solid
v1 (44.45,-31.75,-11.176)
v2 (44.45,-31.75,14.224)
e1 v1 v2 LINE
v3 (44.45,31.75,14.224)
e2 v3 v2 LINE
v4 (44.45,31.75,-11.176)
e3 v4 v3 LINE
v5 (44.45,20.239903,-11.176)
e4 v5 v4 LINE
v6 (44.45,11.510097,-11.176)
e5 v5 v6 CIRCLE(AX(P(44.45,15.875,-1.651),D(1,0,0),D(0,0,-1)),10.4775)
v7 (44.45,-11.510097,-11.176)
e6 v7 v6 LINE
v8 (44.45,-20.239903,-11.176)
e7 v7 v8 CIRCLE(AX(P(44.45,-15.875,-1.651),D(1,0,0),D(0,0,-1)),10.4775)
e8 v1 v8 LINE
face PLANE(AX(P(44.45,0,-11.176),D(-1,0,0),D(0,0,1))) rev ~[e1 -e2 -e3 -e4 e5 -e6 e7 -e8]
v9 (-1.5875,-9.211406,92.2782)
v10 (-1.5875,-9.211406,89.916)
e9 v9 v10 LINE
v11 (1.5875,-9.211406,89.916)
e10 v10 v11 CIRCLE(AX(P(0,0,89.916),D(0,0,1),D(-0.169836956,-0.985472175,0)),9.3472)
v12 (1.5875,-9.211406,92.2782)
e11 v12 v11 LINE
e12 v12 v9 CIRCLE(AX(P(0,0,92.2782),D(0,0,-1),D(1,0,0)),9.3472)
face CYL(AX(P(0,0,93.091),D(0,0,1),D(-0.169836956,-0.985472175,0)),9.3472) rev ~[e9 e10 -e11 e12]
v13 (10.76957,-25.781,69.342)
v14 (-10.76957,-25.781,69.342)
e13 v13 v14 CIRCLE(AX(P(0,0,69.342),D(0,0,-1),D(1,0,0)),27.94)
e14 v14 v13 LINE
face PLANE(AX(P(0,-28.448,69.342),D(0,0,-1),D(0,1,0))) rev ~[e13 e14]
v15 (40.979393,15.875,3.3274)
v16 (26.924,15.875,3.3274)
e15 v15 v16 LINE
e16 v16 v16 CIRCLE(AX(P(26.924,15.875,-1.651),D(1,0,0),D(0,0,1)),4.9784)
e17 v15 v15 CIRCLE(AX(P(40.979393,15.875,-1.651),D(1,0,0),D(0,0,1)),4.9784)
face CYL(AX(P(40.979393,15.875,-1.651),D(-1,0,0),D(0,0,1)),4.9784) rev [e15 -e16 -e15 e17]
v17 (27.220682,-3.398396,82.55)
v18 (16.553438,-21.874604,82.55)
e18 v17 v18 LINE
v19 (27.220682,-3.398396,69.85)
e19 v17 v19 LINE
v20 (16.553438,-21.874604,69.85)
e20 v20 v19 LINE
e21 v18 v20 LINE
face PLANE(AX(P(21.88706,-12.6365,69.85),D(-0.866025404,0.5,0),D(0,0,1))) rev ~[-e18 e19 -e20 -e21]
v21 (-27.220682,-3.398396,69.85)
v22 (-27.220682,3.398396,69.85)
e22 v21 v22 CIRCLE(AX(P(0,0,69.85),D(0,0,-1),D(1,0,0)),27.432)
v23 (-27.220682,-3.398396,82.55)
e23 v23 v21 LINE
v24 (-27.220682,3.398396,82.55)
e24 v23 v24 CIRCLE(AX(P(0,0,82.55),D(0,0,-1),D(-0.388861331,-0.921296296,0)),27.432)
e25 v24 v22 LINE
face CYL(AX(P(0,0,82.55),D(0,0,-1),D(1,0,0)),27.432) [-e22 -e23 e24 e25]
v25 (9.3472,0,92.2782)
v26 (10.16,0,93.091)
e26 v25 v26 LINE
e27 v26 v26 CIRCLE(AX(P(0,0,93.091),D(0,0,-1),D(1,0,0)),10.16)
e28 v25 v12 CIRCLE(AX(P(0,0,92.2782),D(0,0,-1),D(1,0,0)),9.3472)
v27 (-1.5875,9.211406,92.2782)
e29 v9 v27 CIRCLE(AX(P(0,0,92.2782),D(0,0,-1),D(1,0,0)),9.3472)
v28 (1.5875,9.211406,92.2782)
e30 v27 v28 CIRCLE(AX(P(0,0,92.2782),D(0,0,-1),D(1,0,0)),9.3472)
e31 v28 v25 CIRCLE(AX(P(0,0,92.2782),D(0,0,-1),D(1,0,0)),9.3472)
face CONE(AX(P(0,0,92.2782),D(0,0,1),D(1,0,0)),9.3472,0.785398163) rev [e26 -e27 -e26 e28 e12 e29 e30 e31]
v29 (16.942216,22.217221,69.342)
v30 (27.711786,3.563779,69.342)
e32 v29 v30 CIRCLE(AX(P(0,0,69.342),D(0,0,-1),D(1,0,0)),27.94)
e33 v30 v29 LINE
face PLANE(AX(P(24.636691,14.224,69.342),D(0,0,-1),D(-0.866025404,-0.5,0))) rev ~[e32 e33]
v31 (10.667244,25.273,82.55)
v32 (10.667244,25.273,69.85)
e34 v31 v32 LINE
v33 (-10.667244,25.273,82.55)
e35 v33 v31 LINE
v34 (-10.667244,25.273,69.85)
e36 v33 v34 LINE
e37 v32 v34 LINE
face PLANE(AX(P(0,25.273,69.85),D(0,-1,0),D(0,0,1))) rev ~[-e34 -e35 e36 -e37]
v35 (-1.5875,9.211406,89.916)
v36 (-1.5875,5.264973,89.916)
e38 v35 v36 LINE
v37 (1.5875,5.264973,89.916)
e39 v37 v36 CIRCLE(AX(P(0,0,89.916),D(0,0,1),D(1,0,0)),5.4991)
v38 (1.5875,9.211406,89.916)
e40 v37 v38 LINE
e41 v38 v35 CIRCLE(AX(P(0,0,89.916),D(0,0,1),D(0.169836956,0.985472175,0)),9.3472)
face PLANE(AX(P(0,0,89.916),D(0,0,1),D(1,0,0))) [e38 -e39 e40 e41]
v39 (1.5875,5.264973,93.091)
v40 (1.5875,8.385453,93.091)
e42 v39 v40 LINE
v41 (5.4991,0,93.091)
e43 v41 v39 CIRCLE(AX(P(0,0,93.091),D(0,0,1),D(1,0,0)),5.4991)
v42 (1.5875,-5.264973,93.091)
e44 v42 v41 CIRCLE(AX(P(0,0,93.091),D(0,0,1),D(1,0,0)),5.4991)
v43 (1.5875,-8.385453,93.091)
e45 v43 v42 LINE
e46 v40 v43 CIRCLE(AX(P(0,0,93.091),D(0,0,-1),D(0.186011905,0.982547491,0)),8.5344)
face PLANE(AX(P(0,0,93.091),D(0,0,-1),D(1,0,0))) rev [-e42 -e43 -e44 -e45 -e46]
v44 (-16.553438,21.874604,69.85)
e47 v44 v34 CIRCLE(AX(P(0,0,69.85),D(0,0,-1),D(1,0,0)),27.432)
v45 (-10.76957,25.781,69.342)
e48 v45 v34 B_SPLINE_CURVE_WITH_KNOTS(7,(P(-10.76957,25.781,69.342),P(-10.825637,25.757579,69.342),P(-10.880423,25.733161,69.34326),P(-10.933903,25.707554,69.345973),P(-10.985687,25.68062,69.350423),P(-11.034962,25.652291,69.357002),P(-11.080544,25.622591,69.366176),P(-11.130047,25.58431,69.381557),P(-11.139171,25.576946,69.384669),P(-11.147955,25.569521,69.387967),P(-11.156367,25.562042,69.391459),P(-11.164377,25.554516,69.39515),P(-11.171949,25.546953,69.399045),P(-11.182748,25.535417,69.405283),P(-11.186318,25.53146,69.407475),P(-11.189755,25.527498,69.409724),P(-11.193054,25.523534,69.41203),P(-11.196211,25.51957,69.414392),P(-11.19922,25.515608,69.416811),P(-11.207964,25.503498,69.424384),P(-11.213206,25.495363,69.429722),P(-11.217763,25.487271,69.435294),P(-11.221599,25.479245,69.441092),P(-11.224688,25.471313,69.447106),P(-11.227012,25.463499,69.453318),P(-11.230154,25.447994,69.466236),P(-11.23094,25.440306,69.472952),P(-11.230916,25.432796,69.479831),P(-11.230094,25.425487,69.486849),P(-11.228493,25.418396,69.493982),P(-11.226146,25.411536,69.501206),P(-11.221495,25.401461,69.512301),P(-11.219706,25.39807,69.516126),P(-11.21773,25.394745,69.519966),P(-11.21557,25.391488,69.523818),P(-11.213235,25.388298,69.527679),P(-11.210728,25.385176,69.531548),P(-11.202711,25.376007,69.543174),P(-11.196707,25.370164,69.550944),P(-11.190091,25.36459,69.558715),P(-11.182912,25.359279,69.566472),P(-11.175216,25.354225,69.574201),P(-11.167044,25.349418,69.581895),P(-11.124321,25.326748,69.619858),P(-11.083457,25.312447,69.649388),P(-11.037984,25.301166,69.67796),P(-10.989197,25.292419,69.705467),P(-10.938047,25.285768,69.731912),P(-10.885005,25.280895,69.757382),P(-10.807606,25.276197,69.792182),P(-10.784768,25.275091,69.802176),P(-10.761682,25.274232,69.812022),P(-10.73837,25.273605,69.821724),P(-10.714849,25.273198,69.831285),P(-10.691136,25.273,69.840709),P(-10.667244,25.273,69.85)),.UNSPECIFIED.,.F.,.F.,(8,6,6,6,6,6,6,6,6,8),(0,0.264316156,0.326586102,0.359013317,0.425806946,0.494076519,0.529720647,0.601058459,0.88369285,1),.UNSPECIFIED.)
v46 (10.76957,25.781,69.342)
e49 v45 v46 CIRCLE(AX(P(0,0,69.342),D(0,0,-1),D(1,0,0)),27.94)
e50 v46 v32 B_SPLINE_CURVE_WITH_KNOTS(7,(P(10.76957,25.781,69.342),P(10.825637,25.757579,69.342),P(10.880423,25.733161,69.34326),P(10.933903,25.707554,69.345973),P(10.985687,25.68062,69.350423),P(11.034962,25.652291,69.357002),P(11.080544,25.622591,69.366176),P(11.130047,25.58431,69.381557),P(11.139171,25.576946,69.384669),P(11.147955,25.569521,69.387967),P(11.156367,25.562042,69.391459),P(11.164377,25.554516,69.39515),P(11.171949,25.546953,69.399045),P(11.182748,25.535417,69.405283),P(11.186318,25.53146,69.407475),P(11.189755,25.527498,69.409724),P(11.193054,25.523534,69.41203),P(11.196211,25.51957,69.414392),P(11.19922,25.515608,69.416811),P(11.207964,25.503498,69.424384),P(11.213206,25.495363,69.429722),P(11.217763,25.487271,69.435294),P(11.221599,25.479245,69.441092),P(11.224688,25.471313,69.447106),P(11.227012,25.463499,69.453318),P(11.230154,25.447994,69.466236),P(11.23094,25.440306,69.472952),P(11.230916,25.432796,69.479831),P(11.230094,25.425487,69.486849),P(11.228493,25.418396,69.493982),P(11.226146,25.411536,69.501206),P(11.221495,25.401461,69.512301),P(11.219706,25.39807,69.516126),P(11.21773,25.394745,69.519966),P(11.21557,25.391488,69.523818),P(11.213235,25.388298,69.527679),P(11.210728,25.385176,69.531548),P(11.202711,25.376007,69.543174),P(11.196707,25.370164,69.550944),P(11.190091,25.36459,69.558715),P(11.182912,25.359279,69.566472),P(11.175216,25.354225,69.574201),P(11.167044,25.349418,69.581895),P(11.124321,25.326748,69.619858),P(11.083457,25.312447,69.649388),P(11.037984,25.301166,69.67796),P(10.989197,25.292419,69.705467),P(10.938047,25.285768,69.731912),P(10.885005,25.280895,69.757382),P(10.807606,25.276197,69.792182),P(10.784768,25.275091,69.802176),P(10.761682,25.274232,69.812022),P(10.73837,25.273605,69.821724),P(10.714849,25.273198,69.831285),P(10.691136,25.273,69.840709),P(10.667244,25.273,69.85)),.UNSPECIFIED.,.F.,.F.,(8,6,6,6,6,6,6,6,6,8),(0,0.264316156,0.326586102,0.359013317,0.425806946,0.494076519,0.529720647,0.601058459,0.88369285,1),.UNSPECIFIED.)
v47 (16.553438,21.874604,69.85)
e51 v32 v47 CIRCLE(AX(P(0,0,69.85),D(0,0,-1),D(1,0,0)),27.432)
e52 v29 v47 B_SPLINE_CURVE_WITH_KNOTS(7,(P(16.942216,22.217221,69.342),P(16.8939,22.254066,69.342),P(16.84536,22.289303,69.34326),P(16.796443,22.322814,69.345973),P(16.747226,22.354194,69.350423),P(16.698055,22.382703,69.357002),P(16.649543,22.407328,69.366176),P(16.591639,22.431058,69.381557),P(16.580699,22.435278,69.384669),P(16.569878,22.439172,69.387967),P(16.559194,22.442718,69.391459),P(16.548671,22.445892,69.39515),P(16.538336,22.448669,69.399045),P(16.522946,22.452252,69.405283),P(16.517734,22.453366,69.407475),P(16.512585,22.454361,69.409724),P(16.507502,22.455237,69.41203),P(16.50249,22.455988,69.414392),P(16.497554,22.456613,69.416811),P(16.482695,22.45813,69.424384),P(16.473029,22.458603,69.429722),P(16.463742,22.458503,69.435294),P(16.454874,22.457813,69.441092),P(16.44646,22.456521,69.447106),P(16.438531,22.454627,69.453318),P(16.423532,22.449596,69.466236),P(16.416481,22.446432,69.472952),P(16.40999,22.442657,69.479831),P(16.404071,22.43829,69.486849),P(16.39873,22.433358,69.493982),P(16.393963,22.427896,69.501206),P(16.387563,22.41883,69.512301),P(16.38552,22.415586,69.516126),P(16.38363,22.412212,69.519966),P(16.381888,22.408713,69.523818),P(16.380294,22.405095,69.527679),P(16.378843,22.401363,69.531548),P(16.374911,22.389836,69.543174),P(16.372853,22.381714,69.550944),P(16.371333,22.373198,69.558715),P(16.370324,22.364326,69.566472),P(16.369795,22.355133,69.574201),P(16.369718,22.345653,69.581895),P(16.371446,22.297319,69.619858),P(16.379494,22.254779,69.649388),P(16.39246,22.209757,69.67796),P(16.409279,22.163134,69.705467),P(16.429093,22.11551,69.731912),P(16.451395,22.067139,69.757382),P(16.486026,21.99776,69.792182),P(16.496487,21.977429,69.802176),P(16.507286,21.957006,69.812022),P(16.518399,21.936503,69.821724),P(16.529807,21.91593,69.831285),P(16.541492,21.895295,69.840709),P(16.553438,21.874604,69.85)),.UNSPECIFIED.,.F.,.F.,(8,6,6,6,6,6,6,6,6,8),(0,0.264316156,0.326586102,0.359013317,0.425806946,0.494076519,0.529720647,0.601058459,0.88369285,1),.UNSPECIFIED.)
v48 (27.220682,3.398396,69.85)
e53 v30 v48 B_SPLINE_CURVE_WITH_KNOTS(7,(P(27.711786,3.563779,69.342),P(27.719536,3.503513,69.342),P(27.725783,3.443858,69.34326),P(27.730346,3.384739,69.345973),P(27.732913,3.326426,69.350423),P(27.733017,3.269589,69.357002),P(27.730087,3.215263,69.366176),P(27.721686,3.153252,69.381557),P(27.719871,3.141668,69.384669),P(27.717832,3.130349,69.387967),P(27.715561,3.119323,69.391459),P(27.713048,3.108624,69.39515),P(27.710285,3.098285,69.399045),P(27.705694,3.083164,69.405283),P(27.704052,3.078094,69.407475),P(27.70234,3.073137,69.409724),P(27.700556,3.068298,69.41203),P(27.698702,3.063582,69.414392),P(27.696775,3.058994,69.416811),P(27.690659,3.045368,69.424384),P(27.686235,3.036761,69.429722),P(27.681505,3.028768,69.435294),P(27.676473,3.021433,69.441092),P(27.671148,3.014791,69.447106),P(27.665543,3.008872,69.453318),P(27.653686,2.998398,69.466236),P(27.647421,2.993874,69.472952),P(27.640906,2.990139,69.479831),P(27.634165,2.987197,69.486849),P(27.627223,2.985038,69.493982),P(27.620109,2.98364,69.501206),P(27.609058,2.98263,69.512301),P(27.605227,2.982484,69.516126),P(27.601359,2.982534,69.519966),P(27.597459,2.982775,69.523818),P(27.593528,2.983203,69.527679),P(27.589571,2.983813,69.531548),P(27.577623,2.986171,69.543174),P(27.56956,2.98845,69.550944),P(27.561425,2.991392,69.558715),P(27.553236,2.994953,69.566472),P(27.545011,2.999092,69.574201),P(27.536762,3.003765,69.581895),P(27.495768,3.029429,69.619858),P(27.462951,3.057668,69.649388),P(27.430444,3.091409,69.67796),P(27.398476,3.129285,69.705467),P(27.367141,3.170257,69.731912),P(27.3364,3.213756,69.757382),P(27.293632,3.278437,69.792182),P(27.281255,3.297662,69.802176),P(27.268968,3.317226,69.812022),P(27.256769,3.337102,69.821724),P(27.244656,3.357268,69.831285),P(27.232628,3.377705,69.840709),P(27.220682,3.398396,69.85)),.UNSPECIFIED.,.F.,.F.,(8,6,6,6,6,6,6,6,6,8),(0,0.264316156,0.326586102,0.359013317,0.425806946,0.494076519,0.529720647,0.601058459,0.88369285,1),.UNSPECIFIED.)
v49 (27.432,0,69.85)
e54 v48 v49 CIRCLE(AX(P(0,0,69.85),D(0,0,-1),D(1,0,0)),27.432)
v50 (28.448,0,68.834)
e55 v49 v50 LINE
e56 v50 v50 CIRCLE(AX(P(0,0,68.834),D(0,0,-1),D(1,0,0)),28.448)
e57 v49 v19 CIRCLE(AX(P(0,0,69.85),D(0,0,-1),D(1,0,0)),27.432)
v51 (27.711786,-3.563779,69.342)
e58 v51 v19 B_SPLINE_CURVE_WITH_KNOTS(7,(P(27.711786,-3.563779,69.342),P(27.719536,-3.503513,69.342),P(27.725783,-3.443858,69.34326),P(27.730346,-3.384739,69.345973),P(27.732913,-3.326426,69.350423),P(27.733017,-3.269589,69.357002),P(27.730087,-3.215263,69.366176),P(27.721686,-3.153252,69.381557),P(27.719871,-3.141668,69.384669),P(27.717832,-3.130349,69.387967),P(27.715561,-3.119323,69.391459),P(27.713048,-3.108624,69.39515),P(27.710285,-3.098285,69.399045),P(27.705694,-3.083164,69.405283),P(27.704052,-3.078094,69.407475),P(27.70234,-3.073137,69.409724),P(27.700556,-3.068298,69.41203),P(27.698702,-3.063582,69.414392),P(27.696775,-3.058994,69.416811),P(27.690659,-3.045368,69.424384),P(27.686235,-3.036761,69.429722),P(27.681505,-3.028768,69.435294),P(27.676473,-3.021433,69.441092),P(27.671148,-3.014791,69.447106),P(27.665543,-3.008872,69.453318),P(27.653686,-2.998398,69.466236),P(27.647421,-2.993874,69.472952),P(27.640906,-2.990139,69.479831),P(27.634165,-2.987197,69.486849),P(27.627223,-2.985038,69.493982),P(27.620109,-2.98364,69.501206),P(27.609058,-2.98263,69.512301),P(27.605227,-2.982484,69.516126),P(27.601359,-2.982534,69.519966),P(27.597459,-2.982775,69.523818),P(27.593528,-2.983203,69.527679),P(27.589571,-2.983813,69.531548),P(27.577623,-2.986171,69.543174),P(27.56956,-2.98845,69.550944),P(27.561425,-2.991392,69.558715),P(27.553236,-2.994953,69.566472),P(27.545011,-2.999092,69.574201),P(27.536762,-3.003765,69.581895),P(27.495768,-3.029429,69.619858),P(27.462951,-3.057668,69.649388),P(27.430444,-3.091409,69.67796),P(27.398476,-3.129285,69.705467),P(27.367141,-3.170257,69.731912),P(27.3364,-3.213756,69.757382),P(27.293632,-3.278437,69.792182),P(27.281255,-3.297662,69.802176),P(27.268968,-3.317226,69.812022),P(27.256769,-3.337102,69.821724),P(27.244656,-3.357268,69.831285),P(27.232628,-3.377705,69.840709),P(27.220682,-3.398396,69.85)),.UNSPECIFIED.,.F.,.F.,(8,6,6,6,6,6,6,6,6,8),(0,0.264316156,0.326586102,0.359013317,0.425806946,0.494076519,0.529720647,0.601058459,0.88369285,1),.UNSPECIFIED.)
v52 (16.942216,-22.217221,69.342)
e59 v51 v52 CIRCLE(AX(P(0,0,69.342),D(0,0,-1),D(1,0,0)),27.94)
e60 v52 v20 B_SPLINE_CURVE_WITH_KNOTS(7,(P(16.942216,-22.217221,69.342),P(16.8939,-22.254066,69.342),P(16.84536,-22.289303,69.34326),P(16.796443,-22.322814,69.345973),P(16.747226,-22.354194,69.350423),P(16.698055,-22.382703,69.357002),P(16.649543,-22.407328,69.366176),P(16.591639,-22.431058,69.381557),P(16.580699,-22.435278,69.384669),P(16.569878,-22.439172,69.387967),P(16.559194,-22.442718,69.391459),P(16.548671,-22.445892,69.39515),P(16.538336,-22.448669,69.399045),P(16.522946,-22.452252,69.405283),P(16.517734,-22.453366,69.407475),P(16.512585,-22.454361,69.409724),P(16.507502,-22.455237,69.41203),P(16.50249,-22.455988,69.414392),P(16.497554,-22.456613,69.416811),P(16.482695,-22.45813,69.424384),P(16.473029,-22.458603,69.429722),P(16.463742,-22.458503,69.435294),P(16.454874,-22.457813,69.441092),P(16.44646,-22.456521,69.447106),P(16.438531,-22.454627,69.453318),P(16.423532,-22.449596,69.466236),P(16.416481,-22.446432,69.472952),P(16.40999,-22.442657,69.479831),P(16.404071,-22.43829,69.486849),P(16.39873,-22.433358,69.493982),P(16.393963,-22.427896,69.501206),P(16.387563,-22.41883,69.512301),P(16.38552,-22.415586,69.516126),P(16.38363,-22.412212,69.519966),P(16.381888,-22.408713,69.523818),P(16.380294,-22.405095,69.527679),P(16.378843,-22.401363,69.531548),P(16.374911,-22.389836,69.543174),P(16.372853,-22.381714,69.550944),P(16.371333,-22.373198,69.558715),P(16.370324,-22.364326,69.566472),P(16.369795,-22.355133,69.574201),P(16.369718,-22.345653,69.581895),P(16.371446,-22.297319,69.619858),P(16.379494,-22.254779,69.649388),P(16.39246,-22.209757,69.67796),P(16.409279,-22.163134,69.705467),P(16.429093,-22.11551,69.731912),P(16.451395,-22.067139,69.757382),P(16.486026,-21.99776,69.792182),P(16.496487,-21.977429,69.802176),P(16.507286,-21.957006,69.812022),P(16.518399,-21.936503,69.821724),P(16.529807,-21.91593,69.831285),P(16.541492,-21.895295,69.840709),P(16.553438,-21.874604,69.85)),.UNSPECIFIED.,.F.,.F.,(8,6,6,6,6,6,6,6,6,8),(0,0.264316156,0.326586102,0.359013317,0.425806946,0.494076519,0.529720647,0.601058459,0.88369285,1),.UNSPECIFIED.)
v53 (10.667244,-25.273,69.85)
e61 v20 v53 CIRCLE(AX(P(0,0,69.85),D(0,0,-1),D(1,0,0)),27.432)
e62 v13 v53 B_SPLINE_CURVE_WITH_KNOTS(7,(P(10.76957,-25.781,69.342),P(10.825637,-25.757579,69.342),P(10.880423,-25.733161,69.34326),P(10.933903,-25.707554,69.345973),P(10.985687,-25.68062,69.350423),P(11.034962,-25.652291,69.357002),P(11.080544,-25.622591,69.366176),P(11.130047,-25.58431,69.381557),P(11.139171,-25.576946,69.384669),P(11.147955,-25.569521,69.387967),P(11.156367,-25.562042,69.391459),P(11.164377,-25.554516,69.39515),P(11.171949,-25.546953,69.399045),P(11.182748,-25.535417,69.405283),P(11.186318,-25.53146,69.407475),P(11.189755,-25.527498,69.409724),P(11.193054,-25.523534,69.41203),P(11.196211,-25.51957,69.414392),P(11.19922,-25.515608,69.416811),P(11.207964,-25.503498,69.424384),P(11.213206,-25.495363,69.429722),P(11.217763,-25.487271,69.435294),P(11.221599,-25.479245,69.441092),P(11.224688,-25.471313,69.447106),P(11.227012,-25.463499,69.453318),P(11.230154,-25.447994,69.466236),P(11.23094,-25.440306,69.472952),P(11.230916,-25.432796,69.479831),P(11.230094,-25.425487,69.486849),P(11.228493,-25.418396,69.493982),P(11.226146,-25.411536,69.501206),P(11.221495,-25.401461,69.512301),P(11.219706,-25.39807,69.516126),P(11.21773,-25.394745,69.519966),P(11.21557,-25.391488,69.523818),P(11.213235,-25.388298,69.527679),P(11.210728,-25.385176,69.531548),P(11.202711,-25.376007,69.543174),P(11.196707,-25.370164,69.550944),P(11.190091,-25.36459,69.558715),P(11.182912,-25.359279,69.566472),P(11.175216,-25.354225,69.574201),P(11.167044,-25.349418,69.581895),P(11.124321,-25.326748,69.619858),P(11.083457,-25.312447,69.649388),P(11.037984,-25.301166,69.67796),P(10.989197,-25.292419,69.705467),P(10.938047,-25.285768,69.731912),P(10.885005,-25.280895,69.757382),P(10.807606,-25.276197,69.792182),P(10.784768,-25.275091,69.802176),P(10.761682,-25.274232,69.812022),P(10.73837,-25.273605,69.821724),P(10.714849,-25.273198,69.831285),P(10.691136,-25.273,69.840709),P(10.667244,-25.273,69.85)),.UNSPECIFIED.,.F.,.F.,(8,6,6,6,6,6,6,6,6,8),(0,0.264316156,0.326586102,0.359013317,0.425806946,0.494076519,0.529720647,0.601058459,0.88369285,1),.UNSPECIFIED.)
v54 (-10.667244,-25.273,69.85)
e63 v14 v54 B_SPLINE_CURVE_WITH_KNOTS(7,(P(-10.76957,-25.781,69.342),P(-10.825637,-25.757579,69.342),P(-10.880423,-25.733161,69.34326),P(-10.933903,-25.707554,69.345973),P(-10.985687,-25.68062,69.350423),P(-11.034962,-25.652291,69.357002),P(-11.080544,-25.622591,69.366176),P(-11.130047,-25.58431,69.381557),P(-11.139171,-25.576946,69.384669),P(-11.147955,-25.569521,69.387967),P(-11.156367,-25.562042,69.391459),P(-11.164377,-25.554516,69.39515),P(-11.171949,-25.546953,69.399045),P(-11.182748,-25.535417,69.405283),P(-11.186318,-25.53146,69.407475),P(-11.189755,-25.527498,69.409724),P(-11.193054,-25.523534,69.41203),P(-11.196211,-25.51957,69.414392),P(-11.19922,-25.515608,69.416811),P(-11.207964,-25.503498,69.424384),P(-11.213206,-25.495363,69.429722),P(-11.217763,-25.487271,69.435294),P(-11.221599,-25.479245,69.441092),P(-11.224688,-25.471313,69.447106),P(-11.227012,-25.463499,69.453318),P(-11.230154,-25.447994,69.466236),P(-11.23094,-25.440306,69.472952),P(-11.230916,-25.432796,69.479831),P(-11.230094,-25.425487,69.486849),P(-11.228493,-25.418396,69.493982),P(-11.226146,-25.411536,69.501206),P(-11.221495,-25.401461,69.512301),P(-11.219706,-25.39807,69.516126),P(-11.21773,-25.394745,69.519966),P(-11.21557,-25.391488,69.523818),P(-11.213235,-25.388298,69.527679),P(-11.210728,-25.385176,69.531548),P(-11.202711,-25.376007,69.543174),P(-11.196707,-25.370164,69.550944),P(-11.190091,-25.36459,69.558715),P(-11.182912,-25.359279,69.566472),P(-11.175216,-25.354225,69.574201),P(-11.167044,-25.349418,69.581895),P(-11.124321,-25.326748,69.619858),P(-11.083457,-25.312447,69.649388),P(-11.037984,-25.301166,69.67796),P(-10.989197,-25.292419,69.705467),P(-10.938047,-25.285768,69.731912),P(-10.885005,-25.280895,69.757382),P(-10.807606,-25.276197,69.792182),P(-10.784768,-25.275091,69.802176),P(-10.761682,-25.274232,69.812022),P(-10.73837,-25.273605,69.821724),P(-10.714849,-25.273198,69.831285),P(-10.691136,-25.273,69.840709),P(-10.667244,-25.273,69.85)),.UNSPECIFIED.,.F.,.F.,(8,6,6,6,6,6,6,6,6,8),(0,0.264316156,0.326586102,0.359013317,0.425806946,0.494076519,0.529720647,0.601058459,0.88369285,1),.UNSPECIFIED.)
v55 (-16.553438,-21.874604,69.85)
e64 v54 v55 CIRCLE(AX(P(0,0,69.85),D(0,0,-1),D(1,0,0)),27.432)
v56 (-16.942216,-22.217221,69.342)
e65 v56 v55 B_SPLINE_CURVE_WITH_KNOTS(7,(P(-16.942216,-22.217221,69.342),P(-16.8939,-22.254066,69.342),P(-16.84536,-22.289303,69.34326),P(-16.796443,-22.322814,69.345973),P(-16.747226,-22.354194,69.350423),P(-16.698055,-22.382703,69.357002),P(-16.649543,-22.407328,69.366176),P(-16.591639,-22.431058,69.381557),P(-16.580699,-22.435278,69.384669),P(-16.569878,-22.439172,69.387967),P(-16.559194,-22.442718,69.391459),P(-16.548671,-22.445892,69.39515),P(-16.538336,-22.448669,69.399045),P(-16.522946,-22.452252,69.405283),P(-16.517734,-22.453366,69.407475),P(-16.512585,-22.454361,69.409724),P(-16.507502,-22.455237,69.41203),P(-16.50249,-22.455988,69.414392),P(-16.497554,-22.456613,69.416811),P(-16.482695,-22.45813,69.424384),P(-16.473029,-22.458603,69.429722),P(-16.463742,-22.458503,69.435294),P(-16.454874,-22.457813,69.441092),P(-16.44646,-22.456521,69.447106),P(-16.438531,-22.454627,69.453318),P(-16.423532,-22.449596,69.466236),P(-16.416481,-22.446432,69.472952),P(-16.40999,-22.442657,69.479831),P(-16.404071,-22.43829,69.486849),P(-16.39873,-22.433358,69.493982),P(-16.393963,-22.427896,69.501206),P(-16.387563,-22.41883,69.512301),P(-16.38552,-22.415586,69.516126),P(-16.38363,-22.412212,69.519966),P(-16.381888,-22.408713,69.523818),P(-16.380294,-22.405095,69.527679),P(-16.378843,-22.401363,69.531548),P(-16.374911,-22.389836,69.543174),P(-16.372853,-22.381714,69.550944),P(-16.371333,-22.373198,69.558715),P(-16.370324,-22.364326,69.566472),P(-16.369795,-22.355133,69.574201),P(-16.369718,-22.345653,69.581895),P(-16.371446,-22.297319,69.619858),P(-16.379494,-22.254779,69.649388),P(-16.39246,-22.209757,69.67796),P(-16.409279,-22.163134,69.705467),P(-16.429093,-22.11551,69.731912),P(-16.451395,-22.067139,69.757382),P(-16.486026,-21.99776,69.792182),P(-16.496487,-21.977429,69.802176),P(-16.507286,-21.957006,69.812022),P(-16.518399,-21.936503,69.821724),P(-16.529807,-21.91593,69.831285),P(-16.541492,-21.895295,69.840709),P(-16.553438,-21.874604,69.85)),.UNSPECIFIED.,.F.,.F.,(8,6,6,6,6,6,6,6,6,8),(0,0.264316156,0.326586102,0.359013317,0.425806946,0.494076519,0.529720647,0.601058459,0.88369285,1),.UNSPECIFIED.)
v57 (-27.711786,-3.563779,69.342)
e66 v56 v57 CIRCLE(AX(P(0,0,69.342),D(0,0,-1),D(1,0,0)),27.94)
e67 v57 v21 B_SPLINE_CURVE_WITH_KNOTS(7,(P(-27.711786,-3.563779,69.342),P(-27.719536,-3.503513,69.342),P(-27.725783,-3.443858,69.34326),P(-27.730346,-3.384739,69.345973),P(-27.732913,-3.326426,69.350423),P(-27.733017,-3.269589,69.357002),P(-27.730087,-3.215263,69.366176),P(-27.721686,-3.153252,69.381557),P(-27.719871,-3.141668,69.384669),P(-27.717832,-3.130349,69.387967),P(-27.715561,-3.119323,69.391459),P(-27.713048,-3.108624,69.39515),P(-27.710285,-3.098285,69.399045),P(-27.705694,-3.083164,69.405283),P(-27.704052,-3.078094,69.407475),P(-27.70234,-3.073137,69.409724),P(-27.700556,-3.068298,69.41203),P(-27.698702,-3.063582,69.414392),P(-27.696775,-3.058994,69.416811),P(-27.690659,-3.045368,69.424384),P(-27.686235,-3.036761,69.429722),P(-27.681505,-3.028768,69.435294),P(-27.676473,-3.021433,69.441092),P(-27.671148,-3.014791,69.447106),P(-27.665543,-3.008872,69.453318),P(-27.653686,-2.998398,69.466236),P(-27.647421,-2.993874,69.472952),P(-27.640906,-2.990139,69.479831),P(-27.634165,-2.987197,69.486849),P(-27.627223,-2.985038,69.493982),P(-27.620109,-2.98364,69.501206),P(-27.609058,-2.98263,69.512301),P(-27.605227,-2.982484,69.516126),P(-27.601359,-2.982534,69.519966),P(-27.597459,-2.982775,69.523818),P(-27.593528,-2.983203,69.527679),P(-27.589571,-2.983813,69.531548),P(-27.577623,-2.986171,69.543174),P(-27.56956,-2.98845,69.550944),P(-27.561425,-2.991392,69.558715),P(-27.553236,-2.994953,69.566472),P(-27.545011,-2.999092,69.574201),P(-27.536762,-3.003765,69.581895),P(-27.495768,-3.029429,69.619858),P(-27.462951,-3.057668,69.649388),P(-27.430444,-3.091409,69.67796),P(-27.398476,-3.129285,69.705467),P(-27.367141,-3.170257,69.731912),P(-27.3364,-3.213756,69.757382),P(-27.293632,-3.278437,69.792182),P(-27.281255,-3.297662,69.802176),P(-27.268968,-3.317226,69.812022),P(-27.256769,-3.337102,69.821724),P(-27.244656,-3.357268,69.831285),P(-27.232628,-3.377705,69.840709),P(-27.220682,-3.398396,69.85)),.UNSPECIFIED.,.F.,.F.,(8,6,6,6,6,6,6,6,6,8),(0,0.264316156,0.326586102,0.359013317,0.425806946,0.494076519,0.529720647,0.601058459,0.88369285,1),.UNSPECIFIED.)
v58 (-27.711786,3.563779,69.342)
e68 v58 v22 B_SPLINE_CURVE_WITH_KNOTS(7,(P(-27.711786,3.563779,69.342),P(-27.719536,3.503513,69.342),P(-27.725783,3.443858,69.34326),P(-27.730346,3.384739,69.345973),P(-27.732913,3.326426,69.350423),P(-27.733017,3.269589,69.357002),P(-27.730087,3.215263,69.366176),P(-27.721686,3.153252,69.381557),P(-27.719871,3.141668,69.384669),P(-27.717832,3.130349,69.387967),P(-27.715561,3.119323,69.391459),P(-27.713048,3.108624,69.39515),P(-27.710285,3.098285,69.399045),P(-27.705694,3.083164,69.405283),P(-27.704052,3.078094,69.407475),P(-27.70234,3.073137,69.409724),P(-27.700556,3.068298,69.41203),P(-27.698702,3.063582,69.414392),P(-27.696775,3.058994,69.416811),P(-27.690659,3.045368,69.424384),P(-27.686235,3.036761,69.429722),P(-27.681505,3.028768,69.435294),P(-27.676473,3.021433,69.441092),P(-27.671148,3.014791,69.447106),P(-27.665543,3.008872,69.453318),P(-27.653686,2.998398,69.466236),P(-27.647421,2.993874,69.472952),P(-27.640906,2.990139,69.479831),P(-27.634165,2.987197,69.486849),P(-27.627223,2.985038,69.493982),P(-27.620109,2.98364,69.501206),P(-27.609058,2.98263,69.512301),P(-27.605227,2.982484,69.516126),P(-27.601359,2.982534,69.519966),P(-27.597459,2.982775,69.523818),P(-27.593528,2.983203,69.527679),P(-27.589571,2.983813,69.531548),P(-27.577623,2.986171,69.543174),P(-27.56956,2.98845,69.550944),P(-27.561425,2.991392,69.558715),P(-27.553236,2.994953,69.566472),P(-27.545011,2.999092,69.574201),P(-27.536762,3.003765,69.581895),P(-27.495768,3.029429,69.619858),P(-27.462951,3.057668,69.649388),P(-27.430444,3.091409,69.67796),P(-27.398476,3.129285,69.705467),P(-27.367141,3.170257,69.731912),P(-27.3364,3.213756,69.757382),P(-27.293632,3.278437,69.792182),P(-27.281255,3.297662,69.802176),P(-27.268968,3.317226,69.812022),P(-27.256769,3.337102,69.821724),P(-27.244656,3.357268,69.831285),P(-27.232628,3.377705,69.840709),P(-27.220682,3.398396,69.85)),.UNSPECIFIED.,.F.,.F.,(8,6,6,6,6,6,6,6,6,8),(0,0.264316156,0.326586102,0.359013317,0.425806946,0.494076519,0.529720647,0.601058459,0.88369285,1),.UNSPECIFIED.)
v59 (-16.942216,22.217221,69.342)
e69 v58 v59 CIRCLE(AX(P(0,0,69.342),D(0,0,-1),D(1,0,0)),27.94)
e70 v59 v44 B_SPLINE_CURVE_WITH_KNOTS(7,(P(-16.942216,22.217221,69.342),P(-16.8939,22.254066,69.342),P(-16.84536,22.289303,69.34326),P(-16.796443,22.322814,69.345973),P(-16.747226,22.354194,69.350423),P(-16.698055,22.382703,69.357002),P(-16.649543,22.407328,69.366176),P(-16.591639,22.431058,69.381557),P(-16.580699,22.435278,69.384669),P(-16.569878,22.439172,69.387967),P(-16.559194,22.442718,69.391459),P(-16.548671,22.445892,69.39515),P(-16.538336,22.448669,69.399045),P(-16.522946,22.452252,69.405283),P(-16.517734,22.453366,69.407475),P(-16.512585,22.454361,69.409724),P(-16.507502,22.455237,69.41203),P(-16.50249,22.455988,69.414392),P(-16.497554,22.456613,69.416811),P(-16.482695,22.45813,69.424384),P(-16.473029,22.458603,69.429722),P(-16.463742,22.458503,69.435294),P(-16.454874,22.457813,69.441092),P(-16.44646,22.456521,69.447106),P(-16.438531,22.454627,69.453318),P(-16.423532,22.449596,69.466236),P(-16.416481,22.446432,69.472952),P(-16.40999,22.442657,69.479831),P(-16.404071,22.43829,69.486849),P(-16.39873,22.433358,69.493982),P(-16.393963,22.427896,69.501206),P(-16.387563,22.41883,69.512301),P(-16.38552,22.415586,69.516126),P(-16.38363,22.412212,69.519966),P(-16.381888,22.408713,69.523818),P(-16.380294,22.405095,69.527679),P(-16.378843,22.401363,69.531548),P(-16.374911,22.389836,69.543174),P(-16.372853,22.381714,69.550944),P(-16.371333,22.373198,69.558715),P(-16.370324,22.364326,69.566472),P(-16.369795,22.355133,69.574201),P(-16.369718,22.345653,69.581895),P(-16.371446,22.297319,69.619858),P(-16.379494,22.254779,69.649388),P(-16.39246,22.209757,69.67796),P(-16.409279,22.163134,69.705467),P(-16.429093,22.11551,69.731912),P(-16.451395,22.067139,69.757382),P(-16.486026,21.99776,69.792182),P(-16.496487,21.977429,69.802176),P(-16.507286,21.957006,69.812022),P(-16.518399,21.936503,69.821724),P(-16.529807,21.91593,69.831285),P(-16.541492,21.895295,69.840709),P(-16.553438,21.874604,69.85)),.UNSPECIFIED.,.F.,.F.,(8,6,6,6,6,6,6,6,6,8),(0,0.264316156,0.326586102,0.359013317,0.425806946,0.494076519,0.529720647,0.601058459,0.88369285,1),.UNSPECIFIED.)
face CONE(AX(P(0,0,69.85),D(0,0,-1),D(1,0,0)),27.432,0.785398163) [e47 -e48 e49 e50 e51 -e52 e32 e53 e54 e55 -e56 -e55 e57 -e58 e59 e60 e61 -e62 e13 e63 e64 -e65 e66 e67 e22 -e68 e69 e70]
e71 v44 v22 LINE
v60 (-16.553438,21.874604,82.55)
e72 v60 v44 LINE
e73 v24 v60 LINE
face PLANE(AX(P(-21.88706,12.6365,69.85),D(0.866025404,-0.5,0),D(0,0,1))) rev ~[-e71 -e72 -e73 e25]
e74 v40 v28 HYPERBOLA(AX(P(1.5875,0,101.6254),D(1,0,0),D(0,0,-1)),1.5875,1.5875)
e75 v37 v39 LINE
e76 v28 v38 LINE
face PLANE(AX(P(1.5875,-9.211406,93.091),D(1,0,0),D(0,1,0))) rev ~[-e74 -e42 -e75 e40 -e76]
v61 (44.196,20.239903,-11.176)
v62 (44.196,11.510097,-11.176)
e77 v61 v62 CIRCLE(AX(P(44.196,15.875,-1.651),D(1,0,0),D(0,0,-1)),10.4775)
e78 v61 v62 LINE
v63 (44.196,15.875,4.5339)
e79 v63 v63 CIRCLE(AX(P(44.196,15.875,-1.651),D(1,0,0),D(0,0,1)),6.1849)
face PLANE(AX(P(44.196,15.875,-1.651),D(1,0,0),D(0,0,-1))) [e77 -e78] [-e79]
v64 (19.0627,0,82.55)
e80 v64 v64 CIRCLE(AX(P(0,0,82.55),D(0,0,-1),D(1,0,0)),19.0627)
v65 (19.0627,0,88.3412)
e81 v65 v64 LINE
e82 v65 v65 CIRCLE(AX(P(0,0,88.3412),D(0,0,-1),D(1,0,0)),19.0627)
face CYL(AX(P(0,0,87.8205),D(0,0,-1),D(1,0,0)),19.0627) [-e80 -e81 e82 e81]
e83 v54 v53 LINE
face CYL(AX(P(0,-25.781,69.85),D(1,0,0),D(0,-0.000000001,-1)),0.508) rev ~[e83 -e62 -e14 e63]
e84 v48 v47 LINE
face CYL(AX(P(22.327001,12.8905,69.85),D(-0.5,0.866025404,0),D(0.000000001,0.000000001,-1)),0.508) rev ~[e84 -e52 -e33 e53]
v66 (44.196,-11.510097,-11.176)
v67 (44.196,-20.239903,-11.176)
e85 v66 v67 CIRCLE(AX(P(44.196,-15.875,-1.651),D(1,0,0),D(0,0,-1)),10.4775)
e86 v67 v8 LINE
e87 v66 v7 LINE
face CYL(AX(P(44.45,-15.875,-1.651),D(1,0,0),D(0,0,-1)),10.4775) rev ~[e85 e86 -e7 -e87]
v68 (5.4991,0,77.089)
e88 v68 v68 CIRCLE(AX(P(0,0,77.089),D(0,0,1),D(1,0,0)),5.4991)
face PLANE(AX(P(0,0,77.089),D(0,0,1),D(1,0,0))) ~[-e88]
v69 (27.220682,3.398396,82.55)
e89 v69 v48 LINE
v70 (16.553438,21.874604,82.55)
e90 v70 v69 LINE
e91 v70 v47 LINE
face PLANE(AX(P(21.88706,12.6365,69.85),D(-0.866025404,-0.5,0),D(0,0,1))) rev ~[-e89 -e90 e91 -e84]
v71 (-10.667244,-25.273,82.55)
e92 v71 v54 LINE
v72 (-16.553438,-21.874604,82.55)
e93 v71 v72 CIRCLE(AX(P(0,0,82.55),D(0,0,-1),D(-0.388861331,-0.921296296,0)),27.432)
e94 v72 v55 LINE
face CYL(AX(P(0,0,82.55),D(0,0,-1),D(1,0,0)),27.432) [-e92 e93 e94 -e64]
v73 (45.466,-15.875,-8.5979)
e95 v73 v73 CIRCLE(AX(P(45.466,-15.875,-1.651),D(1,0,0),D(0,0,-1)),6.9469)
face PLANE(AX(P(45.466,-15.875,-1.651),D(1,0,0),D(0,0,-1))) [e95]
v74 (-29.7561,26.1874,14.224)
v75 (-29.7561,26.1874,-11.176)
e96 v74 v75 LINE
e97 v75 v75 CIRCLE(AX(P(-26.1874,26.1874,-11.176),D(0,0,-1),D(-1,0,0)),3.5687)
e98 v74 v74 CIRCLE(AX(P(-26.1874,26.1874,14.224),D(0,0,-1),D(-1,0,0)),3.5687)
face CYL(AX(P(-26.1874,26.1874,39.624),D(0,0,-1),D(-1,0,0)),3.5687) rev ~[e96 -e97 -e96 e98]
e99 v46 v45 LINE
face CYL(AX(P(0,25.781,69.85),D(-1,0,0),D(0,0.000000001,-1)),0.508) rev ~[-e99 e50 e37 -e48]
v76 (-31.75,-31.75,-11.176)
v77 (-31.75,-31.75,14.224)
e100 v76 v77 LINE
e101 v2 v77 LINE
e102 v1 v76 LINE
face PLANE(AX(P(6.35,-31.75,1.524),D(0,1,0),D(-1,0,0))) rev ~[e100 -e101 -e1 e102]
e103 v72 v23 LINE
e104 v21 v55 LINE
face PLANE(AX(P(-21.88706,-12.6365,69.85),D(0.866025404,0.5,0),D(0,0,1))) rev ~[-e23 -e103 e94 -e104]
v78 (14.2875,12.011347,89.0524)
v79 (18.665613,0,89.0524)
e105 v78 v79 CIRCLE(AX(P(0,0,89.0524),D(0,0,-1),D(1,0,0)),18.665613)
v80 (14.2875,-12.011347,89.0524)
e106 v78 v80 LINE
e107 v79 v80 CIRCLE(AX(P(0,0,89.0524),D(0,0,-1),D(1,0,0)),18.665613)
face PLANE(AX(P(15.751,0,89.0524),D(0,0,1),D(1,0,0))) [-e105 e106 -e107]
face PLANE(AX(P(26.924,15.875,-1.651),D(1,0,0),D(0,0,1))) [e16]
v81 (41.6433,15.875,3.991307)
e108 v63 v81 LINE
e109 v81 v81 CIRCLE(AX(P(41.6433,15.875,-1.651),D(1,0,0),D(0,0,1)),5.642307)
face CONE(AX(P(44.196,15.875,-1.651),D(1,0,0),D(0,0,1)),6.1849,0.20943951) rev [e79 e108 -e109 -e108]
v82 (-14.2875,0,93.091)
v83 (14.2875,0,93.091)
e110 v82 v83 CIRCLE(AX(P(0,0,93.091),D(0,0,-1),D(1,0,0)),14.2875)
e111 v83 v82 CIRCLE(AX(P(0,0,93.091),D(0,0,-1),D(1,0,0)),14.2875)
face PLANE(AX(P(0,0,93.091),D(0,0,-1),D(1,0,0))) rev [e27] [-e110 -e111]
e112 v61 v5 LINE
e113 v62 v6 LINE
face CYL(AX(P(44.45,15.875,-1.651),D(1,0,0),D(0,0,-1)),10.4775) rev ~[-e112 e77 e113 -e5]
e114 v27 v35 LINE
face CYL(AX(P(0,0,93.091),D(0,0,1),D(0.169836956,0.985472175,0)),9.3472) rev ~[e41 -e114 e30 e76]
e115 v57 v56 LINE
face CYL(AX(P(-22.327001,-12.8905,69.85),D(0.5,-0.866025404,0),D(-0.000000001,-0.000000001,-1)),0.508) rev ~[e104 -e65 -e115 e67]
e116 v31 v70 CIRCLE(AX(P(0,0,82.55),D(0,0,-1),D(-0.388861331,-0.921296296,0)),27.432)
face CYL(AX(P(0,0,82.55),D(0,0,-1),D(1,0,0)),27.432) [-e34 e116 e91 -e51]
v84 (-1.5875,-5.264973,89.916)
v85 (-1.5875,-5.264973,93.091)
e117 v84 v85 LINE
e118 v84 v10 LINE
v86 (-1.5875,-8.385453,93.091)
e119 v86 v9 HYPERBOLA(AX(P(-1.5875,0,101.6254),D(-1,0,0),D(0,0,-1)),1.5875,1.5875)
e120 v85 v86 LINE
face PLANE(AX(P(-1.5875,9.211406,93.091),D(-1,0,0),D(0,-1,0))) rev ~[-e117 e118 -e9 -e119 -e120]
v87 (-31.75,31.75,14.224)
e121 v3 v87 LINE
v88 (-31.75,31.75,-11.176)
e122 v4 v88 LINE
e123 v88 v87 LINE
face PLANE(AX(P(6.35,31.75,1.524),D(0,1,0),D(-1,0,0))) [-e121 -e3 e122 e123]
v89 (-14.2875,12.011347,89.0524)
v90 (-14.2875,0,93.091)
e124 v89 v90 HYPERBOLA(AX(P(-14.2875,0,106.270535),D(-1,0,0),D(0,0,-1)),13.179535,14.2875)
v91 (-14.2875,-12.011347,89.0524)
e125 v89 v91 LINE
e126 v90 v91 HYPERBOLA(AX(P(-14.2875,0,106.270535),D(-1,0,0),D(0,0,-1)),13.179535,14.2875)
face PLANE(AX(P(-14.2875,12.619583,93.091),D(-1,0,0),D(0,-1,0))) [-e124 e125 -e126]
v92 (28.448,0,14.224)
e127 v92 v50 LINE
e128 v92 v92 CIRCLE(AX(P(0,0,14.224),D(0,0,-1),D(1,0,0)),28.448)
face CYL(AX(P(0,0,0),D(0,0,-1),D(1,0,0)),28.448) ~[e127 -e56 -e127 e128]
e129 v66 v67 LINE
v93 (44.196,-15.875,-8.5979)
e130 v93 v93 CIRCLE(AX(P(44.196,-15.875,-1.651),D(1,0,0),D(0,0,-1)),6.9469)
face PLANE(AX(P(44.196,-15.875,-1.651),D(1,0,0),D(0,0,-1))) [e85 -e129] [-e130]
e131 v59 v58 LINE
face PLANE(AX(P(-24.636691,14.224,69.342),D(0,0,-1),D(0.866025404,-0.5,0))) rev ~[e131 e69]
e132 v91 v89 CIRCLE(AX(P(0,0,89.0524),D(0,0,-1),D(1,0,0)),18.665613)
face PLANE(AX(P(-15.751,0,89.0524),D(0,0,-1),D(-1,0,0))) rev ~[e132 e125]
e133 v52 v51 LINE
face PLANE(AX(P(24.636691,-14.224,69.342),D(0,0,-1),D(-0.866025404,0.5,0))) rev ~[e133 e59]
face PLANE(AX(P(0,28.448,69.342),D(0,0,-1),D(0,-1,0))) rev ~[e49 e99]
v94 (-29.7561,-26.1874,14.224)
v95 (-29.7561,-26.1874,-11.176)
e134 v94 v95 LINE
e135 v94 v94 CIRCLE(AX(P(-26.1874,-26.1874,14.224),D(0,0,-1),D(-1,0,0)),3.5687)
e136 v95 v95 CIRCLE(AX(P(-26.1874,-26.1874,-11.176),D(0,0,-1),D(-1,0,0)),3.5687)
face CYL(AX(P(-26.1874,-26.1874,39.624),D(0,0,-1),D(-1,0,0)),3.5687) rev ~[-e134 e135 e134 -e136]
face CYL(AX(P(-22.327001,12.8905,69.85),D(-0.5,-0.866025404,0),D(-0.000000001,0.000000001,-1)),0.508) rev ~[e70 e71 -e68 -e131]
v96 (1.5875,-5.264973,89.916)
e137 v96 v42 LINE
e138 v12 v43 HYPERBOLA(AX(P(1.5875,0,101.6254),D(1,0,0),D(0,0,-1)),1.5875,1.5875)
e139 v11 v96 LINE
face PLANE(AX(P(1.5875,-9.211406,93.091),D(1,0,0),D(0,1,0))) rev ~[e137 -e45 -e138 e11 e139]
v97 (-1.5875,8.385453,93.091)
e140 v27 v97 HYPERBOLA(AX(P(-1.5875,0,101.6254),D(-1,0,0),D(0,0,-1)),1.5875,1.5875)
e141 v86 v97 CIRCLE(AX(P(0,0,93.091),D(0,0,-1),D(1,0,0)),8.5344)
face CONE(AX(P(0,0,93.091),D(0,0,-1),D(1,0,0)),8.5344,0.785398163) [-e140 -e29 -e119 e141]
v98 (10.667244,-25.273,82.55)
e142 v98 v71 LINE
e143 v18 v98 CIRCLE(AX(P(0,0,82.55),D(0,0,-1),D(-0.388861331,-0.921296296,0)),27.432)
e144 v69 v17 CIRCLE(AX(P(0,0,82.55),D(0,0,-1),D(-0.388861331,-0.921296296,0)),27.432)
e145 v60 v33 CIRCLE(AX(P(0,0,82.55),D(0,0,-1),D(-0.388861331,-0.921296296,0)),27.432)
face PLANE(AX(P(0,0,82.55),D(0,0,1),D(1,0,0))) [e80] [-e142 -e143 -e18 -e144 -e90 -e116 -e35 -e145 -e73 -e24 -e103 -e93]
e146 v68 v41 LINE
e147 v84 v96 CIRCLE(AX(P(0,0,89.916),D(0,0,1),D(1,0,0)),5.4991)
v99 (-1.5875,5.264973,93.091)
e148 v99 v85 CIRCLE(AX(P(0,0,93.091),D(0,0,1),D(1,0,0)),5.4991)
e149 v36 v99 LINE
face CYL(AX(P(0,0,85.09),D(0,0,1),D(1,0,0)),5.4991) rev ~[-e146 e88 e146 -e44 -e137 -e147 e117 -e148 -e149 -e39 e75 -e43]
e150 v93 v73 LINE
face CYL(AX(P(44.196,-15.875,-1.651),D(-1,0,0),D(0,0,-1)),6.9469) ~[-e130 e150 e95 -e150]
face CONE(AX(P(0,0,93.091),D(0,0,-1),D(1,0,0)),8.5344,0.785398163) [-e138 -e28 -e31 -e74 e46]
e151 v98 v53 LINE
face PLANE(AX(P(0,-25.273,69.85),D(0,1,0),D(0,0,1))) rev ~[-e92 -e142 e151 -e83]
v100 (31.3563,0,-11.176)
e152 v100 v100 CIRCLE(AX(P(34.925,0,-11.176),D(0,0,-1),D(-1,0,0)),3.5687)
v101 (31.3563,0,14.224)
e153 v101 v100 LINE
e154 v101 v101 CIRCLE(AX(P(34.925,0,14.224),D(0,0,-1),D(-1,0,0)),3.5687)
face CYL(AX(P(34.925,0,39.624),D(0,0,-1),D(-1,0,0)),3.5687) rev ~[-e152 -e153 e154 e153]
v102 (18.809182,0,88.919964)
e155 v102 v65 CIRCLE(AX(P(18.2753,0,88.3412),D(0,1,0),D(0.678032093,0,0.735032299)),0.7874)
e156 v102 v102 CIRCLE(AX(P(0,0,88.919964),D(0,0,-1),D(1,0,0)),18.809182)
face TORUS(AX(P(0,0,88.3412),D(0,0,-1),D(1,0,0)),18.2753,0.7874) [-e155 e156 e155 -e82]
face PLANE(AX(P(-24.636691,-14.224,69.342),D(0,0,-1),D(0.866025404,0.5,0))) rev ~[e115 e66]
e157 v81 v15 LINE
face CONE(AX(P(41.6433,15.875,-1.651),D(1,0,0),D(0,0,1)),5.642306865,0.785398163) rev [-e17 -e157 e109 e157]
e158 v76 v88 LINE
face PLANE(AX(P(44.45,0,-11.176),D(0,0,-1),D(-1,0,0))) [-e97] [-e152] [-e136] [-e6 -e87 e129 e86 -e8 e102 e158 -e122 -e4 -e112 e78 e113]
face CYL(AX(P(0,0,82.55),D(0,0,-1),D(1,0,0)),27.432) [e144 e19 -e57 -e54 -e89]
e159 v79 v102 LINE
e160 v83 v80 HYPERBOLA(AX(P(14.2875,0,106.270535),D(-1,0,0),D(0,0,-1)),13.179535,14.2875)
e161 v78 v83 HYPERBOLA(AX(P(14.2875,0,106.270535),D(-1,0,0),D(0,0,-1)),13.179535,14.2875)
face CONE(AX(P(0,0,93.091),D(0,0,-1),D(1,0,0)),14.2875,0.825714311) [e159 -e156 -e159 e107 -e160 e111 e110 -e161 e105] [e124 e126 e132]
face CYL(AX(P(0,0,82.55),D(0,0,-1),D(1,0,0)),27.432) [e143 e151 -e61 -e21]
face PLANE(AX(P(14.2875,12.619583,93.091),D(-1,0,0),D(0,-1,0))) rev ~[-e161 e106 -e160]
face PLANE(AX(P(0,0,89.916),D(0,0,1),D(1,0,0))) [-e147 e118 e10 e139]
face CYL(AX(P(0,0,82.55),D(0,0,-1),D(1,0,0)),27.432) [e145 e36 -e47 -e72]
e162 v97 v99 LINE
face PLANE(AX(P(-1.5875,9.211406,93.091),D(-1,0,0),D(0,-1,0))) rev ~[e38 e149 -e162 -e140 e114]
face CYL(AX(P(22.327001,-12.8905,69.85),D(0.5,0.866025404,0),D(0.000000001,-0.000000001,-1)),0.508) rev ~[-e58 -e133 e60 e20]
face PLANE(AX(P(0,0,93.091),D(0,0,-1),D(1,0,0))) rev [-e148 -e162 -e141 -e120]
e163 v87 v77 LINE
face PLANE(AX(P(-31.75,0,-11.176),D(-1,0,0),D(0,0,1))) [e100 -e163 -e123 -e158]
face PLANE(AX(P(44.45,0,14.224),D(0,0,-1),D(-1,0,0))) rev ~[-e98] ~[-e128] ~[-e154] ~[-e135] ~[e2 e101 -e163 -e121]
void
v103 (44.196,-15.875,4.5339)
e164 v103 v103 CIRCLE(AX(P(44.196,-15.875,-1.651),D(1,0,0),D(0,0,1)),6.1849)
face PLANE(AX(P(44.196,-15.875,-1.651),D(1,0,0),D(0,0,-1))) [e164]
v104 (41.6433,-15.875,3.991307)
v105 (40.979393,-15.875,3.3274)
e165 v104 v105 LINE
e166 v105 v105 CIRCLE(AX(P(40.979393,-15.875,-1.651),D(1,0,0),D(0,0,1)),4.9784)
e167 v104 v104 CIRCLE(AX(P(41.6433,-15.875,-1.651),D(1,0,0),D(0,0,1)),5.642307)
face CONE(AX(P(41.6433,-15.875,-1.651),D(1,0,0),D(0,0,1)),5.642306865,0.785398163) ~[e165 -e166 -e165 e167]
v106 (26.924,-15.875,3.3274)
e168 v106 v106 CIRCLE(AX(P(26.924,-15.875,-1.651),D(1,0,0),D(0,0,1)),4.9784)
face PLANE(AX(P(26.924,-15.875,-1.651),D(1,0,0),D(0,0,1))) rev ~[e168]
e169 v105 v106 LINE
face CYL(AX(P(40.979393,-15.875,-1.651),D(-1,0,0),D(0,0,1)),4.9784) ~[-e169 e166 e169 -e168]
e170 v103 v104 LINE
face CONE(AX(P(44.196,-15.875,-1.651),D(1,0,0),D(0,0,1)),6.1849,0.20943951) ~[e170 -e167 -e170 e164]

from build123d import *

# Parameters (mm, degrees)
SKETCH1_R           = 28.448
EXTRUDE1_DEPTH      = 82.55
CUT_EXTRUDE1_DEPTH  = 34.1376
SKETCH13_W          = 10.541
SKETCH13_H          = 19.0627
S2D0011_W           = 5.4991
S2D0011_H           = 16.002
SKETCH16_W          = 76.2
SKETCH16_H          = 25.4
EXTRUDE2_DEPTH      = 31.75
EXTRUDE2_DEPTH_BACK = 31.75
SKETCH17_R          = 10.4775
CUT_EXTRUDE9_DEPTH  = 0.254
SKETCH18_R          = 10.4775
CUT_EXTRUDE10_DEPTH = 0.254
SKETCH21_R          = 6.9469
EXTRUDE3_DEPTH      = 1.27
CIRPATTERN2_COUNT   = 6
HOLE1_D             = 7.1374
HOLE1_DEPTH         = 25.4
CUT_EXTRUDE11_DEPTH = 3.175
CUT_EXTRUDE12_DEPTH = 4.0386


with BuildPart() as part:
    # Sketch1 → Extrude1 (new body)
    with BuildSketch(Plane.XY):
        Circle(SKETCH1_R)
    extrude(amount=EXTRUDE1_DEPTH)

    # Sketch2 → Cut-Extrude1 (cut, symmetric)
    with BuildSketch(Plane(origin=(0, 0, 0), x_dir=(0, 0, 1), z_dir=(1, 0, 0))):
        with BuildLine():
            Line((69.342, 28.448), (69.342, 25.781))
            ThreePointArc((69.342, 25.781), (69.490789755, 25.421789755), (69.85, 25.273))
            Line((69.85, 25.273), (82.55, 25.273))
            Line((82.55, 25.273), (82.55, 28.448))
            Line((82.55, 28.448), (69.342, 28.448))
        make_face()
    cut_extrude1 = extrude(amount=CUT_EXTRUDE1_DEPTH, both=True, mode=Mode.SUBTRACT)

    # Sketch10 → Cut-Revolve1 (revolve, cut)
    with BuildSketch(Plane(origin=(0, 0, 0), x_dir=(0, 0, -1), z_dir=(1, 0, 0)), mode=Mode.PRIVATE) as cut_revolve1_sk:
        Polygon((-82.55, 27.432), (-69.85, 27.432), (-68.834, 28.448), (-82.55, 28.448), align=None)
    revolve(cut_revolve1_sk.sketch.rotate(Axis((0, 0, 83.2358), (0, 0, -1)), 90), axis=Axis((0, 0, 83.2358), (0, 0, -1)), mode=Mode.SUBTRACT)  # turned: the seam where the file's is

    # Sketch13 → Revolve1 (revolve)
    with BuildSketch(Plane(origin=(0, 0, 0), x_dir=(0, 0, -1), z_dir=(1, 0, 0)), mode=Mode.PRIVATE) as revolve1_sk:
        with Locations((-87.8205, 9.53135)):
            Rectangle(SKETCH13_W, SKETCH13_H)
    revolve(revolve1_sk.sketch.rotate(Axis((0, 0, 93.61805), (0, 0, -1)), 90), axis=Axis((0, 0, 93.61805), (0, 0, -1)))  # turned: the seam where the file's is

    # S2D0011 → Cut-Revolve4 (revolve, cut)
    with BuildSketch(Plane(origin=(-5.4991, 0, 93.091), x_dir=(-1, 0, 0), z_dir=(0, 1, 0)), mode=Mode.PRIVATE) as cut_revolve4_sk:
        with Locations((-2.74955, -8.001)):
            Rectangle(S2D0011_W, S2D0011_H)
    revolve(cut_revolve4_sk.sketch.rotate(Axis((0, 0, 56.25285781), (0, 0, 1)), 180), axis=Axis((0, 0, 56.25285781), (0, 0, 1)), mode=Mode.SUBTRACT)  # turned: the seam where the file's is

    # Sketch15 → Cut-Revolve5 (revolve, cut)
    with BuildSketch(Plane(origin=(0, 0, 0), x_dir=(0, 0, -1), z_dir=(1, 0, 0)), mode=Mode.PRIVATE) as cut_revolve5_sk:
        with BuildLine():
            Line((-93.091, 14.2875), (-88.919964429, 18.809182473))
            ThreePointArc((-88.919964429, 18.809182473), (-88.65712697, 18.996541229), (-88.3412, 19.0627))
            Line((-88.3412, 19.0627), (-93.091, 19.0627))
            Line((-93.091, 19.0627), (-93.091, 14.2875))
        make_face()
    revolve(cut_revolve5_sk.sketch.rotate(Axis((0, 0, 93.32849), (0, 0, -1)), 90), axis=Axis((0, 0, 93.32849), (0, 0, -1)), mode=Mode.SUBTRACT)  # turned: the seam where the file's is

    # Sketch16 → Extrude2 (add, two sides)
    with BuildSketch(Plane(origin=(0, 0, 0), x_dir=(-1, 0, 0), z_dir=(0, 1, 0))) as extrude2_sk:
        with Locations((-6.35, 1.524)):
            Rectangle(SKETCH16_W, SKETCH16_H)
    extrude(amount=EXTRUDE2_DEPTH)
    extrude(extrude2_sk.sketch, amount=-EXTRUDE2_DEPTH_BACK)

    # Sketch17 → Cut-Extrude9 (cut)
    with BuildSketch(Plane(origin=(44.45, 0, 0), x_dir=(0, 0, -1), z_dir=(1, 0, 0))):
        with Locations((1.651, -15.875)):
            Circle(SKETCH17_R)
    extrude(amount=-CUT_EXTRUDE9_DEPTH, mode=Mode.SUBTRACT)

    # Sketch18 → Cut-Extrude10 (cut)
    with BuildSketch(Plane(origin=(44.45, 0, 0), x_dir=(0, 0, -1), z_dir=(1, 0, 0))):
        with Locations((1.651, 15.875)):
            Circle(SKETCH18_R)
    extrude(amount=-CUT_EXTRUDE10_DEPTH, mode=Mode.SUBTRACT)

    # S2D0002 → Cut-Revolve6 (revolve, cut)
    with BuildSketch(Plane(origin=(44.196, -15.875, -1.651), x_dir=(0, -1, 0), z_dir=(0, 0, 1)), mode=Mode.PRIVATE) as cut_revolve6_sk:
        Polygon((0, 0), (6.1849, 0), (5.642306865, -2.5527), (4.9784, -3.216606865), (4.9784, -17.272), (0, -17.272), align=None)
    revolve(cut_revolve6_sk.sketch.rotate(Axis((26.0604, -15.875, -1.651), (1, 0, 0)), 270), axis=Axis((26.0604, -15.875, -1.651), (1, 0, 0)), mode=Mode.SUBTRACT)  # turned: the seam where the file's is

    # S2D0001 → Cut-Revolve7 (revolve, cut)
    with BuildSketch(Plane(origin=(44.196, 15.875, -1.651), x_dir=(0, -1, 0), z_dir=(0, 0, 1)), mode=Mode.PRIVATE) as cut_revolve7_sk:
        Polygon((0, 0), (6.1849, 0), (5.642306865, -2.5527), (4.9784, -3.216606865), (4.9784, -17.272), (0, -17.272), align=None)
    revolve(cut_revolve7_sk.sketch.rotate(Axis((26.0604, 15.875, -1.651), (1, 0, 0)), 270), axis=Axis((26.0604, 15.875, -1.651), (1, 0, 0)), mode=Mode.SUBTRACT)  # turned: the seam where the file's is

    # Sketch21 → Extrude3 (add)
    with BuildSketch(Plane(origin=(44.196, 0, 0), x_dir=(0, 0, -1), z_dir=(1, 0, 0))):
        with Locations((1.651, -15.875)):
            Circle(SKETCH21_R)
    extrude(amount=EXTRUDE3_DEPTH)

    # CirPattern2: Cut-Extrude1 ×6 about axis
    cirpattern2_axis = Axis((0, 0, 0), (0, 0, 1))
    for i in range(1, CIRPATTERN2_COUNT):
        add(cut_extrude1.rotate(cirpattern2_axis, i * 360 / CIRPATTERN2_COUNT), mode=Mode.SUBTRACT)

    # Hole1
    with Locations(Plane.XY.offset(14.224)):
        with Locations((-26.1874, -26.1874), (34.925, 0), (-26.1874, 26.1874)):
            Hole(HOLE1_D / 2, depth=HOLE1_DEPTH)

    # Sketch24 → Cut-Revolve8 (revolve, cut)
    with BuildSketch(Plane(origin=(0, 0, 0), x_dir=(0, 0, -1), z_dir=(1, 0, 0)), mode=Mode.PRIVATE) as cut_revolve8_sk:
        Polygon((-93.091, 8.5344), (-92.2782, 9.3472), (-93.091, 10.16), align=None)
    revolve(cut_revolve8_sk.sketch.rotate(Axis((0, 0, 93.13164), (0, 0, -1)), 90), axis=Axis((0, 0, 93.13164), (0, 0, -1)), mode=Mode.SUBTRACT)  # turned: the seam where the file's is

    # Sketch25 → Cut-Extrude11 (cut)
    with BuildSketch(Plane.XY.offset(93.091)):
        with BuildLine():
            Line((-1.5875, 9.211405517), (-1.5875, -9.211405517))
            ThreePointArc((-1.5875, -9.211405517), (0, -9.3472), (1.5875, -9.211405517))
            Line((1.5875, -9.211405517), (1.5875, 9.211405517))
            ThreePointArc((1.5875, 9.211405517), (0, 9.3472), (-1.5875, 9.211405517))
        make_face()
    extrude(amount=-CUT_EXTRUDE11_DEPTH, mode=Mode.SUBTRACT)

    # Sketch26 → Cut-Extrude12 (cut)
    with BuildSketch(Plane.XY.offset(93.091)):
        with BuildLine():
            Line((-14.2875, 12.619582998), (-14.2875, -12.619582998))
            ThreePointArc((-14.2875, -12.619582998), (-19.0627, 0), (-14.2875, 12.619582998))
        make_face()
        with BuildLine():
            Line((14.2875, 12.619582998), (14.2875, -12.619582998))
            ThreePointArc((14.2875, -12.619582998), (19.0627, 0), (14.2875, 12.619582998))
        make_face()
    extrude(amount=-CUT_EXTRUDE12_DEPTH, mode=Mode.SUBTRACT)


solid = part.part
